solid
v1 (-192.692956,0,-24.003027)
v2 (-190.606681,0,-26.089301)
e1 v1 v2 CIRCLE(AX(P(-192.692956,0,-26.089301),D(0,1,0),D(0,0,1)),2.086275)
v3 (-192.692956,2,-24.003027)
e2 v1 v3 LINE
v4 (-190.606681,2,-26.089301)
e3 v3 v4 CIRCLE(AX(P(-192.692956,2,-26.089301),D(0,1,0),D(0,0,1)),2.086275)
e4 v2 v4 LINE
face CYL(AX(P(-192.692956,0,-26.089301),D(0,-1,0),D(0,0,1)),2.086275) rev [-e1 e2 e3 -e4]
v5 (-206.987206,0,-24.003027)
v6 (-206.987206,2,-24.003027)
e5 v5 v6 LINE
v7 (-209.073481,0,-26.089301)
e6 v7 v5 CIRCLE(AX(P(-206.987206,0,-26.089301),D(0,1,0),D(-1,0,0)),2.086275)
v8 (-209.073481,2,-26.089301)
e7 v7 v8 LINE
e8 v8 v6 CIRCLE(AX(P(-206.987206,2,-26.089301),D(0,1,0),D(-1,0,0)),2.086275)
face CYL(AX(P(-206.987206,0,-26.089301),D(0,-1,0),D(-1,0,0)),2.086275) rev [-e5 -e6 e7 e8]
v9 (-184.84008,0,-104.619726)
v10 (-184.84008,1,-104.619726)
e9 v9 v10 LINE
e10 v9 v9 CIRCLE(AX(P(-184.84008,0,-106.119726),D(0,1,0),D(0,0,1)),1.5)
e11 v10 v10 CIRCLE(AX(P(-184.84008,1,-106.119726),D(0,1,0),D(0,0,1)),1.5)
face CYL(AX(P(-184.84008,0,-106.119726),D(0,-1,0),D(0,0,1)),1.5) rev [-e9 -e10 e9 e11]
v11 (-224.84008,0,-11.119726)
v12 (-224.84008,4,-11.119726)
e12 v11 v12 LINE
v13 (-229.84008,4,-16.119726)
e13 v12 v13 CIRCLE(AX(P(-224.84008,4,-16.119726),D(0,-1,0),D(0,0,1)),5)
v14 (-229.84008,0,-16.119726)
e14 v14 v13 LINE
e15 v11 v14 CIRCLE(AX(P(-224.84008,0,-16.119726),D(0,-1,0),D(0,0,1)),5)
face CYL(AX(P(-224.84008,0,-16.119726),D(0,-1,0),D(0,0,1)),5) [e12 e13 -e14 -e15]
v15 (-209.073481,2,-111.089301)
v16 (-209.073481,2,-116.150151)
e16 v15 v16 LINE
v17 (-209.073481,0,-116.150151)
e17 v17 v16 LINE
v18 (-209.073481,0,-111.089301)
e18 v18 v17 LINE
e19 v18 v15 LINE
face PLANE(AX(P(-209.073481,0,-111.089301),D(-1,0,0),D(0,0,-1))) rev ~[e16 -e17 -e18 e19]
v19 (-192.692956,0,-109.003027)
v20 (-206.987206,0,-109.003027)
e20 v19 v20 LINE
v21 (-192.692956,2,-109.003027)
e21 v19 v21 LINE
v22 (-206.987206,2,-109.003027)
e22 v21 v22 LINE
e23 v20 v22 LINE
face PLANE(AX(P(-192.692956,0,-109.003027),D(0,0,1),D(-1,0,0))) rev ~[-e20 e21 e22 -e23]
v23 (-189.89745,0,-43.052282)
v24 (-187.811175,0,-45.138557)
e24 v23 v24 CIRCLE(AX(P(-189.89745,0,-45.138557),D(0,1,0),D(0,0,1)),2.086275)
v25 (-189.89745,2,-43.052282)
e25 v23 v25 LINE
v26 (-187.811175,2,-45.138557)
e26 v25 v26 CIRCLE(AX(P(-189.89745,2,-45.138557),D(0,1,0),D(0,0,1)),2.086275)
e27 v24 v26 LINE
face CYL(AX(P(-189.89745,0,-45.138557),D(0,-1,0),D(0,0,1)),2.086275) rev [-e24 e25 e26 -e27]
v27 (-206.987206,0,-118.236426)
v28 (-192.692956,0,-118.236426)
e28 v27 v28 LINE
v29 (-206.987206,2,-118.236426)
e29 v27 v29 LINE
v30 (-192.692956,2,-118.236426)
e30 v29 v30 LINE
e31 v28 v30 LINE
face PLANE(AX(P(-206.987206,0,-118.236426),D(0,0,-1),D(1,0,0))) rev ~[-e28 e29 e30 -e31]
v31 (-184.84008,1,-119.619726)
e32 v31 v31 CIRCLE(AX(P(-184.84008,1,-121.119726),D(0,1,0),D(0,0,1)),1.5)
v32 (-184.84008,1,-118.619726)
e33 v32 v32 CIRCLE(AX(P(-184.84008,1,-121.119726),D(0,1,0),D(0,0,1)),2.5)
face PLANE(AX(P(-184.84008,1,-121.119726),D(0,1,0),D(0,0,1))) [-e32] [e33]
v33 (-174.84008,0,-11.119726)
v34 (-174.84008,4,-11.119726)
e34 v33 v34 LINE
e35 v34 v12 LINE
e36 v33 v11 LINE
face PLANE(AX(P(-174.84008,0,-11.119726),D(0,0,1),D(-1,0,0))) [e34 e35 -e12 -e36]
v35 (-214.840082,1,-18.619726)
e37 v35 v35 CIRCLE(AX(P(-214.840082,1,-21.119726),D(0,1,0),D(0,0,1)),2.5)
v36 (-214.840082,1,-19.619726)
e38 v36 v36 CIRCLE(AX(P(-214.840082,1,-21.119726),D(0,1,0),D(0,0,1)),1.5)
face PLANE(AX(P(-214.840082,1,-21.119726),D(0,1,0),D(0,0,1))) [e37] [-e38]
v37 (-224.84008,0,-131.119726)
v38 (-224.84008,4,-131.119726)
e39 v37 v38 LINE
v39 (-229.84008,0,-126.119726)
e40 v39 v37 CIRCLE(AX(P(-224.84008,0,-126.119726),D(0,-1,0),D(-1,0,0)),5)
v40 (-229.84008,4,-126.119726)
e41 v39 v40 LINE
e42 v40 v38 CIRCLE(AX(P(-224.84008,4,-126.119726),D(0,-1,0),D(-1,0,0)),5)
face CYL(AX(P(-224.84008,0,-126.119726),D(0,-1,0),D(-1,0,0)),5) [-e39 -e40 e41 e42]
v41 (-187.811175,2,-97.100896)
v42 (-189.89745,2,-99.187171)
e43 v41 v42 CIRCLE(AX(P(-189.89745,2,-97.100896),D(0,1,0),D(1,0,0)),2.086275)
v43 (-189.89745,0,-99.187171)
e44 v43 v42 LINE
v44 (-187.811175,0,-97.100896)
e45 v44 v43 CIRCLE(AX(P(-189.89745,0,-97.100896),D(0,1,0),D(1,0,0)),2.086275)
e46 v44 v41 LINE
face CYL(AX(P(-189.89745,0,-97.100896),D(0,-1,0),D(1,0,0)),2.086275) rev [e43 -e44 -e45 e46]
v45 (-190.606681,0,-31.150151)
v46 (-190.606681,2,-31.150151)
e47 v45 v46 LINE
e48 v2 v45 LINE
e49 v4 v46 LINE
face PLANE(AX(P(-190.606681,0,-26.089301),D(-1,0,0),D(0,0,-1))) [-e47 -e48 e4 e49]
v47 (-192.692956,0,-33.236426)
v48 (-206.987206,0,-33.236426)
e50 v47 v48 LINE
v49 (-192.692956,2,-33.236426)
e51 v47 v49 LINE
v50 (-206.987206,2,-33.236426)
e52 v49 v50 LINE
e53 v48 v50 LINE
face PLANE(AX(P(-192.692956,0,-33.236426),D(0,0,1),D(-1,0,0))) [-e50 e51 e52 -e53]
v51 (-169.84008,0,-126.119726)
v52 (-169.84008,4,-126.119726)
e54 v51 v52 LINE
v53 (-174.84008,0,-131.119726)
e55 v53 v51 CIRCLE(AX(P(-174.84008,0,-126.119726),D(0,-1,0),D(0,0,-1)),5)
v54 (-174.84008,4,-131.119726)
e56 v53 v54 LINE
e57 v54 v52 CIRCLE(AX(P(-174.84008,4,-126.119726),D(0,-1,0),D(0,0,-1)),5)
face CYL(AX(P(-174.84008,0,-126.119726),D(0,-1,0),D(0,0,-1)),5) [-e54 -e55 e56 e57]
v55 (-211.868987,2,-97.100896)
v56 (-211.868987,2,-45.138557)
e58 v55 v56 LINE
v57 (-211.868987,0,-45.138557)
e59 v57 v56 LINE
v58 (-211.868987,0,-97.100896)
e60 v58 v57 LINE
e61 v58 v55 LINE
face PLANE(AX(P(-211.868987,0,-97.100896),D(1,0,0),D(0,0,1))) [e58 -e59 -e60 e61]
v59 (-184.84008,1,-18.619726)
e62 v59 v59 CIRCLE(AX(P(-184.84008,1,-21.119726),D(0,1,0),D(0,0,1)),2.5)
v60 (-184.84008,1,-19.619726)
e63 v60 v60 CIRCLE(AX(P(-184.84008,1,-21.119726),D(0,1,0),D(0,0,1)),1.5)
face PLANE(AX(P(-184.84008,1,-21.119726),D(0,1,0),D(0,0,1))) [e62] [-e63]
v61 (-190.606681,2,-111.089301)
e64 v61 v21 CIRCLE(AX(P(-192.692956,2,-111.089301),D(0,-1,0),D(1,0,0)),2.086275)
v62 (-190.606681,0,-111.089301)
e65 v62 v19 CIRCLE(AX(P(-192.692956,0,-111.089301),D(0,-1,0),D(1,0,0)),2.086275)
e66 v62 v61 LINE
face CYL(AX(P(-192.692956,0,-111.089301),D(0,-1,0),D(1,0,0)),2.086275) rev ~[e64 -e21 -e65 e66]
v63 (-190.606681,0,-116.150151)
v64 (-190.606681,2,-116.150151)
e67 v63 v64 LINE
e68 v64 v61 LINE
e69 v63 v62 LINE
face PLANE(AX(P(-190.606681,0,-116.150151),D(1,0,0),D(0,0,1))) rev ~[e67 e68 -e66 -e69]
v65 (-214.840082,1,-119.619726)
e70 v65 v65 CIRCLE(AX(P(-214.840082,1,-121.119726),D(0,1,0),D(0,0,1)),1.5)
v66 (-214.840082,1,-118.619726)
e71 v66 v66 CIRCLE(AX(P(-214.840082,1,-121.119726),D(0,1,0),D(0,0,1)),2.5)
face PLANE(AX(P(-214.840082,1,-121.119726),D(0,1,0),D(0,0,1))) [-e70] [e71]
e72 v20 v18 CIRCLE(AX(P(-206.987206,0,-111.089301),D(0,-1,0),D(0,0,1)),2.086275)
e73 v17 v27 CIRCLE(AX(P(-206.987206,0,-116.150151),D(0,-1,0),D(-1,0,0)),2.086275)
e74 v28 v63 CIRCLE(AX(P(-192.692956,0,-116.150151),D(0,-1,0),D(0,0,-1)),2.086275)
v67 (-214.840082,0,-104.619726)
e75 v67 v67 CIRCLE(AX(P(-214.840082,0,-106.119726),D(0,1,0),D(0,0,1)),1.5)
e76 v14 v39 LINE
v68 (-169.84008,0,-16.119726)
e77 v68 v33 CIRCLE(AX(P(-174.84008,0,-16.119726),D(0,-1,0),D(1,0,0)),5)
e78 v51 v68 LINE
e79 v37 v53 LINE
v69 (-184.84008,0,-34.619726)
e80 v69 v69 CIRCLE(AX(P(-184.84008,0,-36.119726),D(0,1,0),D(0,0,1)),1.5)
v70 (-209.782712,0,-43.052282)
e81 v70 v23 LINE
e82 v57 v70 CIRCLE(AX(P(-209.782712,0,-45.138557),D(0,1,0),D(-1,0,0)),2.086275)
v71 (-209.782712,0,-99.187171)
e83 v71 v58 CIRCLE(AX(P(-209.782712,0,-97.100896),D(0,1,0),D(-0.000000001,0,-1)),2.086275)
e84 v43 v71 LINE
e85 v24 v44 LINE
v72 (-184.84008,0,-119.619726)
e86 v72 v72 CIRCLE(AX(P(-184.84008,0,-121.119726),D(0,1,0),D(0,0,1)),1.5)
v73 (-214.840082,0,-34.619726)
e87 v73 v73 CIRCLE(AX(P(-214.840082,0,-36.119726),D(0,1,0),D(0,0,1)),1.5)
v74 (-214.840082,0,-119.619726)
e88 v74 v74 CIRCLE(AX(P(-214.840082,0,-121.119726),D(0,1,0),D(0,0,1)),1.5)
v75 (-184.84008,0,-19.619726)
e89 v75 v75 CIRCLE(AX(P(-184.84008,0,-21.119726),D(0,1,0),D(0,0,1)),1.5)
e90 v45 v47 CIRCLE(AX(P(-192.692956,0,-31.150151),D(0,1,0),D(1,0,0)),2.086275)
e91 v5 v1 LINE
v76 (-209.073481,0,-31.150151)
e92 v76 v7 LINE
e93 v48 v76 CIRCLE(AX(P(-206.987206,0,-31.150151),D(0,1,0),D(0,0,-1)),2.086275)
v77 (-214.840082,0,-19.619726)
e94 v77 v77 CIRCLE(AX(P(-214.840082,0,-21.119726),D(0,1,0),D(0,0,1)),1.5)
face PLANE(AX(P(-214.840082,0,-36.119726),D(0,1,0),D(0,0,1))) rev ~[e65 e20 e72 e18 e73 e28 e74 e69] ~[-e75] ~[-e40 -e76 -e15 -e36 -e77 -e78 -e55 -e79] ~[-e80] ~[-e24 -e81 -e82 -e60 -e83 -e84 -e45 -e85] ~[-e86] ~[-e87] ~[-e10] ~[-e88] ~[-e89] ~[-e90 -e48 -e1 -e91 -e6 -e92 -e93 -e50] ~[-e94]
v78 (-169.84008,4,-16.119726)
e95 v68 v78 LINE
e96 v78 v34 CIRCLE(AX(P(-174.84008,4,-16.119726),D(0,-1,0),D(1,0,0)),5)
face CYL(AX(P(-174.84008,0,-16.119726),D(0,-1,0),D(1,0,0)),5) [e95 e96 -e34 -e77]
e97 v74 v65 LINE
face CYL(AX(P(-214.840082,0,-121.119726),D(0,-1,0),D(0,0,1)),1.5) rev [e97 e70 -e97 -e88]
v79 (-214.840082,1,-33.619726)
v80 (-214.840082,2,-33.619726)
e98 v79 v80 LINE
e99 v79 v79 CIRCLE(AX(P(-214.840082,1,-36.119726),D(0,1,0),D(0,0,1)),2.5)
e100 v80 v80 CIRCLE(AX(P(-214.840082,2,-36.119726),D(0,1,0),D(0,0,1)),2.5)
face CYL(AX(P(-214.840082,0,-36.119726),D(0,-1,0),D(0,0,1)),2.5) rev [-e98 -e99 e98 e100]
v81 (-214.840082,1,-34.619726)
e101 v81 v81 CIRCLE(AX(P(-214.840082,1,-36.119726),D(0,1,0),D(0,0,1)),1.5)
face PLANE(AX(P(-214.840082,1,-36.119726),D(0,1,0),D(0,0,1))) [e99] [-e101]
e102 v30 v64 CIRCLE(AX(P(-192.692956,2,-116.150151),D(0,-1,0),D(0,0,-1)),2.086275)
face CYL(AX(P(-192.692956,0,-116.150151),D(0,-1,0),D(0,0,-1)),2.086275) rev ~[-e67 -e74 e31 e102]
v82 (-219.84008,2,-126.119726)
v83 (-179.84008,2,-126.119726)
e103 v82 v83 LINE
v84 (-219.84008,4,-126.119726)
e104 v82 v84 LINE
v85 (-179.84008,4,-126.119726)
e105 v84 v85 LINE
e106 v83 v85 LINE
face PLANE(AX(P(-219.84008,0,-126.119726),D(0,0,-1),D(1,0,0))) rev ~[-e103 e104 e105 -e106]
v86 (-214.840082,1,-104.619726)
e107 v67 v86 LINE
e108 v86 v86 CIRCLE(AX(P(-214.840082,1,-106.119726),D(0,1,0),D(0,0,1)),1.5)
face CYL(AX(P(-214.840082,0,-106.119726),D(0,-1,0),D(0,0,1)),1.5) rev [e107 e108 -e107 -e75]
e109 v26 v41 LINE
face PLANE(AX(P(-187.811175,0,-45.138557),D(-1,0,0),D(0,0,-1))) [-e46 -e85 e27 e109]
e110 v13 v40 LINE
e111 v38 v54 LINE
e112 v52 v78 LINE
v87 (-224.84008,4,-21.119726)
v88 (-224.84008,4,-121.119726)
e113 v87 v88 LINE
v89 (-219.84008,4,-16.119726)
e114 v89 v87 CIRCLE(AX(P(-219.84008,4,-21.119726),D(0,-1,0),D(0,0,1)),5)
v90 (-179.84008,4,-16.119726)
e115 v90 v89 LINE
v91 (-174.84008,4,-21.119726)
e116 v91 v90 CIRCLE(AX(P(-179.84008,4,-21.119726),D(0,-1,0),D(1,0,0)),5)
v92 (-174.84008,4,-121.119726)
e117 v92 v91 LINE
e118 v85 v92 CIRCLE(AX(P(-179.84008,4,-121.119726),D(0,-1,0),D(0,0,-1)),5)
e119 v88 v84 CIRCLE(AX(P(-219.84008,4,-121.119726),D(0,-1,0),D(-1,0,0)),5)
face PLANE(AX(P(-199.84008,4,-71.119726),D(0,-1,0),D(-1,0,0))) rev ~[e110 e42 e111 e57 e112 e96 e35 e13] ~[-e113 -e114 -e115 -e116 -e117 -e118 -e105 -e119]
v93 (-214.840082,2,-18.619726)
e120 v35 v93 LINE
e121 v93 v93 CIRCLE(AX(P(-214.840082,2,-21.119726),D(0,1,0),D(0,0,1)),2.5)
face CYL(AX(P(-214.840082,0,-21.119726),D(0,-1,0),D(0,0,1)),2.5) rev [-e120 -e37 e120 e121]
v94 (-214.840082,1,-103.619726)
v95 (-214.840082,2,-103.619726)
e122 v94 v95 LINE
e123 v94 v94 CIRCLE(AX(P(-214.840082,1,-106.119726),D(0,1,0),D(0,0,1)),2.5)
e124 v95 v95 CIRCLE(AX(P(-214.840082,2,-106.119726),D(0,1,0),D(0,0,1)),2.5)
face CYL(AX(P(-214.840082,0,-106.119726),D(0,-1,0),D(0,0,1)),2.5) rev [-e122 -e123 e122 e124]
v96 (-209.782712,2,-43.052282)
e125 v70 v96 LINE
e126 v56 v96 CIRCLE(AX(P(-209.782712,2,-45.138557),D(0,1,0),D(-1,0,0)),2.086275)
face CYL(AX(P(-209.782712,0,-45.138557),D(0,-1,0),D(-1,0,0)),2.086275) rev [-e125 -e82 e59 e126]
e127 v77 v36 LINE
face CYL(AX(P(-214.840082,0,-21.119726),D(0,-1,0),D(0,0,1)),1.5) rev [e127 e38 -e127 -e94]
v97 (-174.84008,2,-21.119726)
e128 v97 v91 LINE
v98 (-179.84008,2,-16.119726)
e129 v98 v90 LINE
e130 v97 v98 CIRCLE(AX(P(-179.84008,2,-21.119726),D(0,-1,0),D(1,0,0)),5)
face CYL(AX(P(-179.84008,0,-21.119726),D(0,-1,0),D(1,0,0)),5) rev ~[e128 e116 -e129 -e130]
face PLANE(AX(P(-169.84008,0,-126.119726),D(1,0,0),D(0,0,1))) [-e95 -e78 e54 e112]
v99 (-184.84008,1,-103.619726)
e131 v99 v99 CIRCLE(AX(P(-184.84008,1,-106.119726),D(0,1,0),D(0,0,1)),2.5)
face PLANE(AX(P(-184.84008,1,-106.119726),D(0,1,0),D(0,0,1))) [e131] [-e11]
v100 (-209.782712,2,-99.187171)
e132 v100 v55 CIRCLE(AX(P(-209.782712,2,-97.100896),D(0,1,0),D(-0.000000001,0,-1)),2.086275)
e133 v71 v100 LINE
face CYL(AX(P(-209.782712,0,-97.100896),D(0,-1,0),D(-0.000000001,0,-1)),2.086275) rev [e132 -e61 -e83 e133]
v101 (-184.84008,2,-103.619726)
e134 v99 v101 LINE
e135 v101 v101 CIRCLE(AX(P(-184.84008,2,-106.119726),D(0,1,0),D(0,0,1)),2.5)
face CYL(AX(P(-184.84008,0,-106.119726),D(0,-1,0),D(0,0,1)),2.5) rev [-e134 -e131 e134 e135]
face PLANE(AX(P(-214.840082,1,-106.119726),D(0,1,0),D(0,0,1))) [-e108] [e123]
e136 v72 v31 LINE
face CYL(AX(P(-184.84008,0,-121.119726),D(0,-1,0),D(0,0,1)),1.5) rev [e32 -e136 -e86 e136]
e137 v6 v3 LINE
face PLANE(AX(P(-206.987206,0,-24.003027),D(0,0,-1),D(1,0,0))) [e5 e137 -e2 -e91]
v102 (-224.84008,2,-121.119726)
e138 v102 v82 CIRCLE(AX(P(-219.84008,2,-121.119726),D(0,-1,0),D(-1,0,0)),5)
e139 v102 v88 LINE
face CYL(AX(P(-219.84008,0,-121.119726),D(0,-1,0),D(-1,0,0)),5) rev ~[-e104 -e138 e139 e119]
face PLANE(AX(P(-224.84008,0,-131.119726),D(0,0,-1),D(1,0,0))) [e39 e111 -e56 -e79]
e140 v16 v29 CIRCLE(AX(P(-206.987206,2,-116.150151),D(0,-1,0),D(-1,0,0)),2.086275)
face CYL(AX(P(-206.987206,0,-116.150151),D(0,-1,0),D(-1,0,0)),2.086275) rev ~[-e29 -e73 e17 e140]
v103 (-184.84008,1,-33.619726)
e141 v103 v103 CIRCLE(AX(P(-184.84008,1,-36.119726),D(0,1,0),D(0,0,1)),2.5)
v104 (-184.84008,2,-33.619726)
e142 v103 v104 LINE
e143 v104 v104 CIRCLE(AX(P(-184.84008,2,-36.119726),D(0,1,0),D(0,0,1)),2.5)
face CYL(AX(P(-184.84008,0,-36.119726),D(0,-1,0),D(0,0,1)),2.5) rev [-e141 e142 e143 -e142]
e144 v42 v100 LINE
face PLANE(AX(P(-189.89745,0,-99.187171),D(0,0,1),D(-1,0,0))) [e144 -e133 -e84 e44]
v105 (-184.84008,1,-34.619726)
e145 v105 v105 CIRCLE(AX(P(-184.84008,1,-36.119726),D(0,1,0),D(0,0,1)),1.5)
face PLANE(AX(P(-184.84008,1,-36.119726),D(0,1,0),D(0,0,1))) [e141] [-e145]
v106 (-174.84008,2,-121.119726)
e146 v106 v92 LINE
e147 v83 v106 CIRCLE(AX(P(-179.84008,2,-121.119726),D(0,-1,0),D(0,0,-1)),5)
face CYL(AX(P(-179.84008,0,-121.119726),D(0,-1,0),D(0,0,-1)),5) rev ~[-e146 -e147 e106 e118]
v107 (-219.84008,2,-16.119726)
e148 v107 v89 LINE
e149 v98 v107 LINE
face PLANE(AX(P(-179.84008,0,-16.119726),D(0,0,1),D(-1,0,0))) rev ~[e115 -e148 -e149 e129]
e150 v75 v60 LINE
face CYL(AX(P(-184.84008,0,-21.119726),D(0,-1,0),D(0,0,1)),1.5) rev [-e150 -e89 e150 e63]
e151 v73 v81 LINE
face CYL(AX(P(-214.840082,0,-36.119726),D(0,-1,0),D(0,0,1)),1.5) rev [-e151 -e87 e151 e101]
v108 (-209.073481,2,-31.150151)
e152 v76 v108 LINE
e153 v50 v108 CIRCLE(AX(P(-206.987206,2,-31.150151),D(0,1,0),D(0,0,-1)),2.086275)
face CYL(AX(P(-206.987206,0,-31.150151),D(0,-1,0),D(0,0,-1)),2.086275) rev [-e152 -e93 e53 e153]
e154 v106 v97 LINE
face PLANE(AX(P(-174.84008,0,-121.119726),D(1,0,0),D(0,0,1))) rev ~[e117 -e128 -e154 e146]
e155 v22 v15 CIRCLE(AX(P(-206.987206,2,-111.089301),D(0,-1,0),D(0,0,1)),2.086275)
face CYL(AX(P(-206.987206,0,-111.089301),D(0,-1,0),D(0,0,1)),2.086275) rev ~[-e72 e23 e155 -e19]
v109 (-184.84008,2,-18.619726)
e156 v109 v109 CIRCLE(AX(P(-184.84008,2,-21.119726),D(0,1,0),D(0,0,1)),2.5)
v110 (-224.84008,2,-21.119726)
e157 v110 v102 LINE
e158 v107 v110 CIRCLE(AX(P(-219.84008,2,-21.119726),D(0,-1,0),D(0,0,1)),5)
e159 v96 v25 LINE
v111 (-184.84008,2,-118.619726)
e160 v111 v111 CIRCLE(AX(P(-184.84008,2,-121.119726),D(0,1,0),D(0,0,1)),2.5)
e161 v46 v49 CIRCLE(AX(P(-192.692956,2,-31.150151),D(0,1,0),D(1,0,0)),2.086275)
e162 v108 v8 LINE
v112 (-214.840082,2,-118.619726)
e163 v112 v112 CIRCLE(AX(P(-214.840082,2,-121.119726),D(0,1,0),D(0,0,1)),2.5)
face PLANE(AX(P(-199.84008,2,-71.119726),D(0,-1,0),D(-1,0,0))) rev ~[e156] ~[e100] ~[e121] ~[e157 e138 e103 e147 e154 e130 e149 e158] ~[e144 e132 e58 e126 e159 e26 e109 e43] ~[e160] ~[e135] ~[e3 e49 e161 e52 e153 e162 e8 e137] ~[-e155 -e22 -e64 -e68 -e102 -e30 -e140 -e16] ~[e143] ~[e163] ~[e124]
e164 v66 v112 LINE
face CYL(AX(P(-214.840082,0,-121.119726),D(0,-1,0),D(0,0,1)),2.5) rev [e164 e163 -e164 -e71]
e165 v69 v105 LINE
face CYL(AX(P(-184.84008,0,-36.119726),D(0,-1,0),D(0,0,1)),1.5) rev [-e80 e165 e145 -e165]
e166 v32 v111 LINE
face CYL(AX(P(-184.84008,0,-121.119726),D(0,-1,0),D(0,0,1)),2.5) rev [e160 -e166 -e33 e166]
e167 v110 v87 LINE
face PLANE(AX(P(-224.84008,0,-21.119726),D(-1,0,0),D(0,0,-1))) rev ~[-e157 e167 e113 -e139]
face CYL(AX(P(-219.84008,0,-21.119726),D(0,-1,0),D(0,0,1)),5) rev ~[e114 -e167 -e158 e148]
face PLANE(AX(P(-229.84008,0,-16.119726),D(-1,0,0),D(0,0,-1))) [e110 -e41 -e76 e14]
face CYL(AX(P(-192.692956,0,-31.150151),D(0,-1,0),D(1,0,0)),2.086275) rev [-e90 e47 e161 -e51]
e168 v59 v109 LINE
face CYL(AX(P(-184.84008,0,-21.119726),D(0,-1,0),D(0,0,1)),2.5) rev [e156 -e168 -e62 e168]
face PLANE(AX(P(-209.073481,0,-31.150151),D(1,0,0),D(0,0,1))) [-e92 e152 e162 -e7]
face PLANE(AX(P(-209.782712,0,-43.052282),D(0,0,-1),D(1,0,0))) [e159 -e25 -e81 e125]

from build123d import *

# Parameters (mm, degrees)
EXTRUDE_1_DEPTH = 4
SKETCH_1_40_R   = 2.5
EXTRUDE_2_DEPTH = 2
SKETCH_1_41_R   = 2.5
SKETCH_1_41_R_2 = 1.5
EXTRUDE_3_DEPTH = 1


with BuildPart() as part:
    # 草图1 → 凸台-拉伸1 (new body)
    with BuildSketch(Plane(origin=(0, 0, 0), x_dir=(1, 0, 0), z_dir=(0, 1, 0))):
        with BuildLine():
            Line((-174.840079727, 131.119726246), (-199.840079727, 131.119726246))
            Line((-199.840079727, 131.119726246), (-224.840079727, 131.119726246))
            ThreePointArc((-224.840079727, 131.119726246), (-228.375613633, 129.655260152), (-229.840079727, 126.119726246))
            Line((-229.840079727, 126.119726246), (-229.840079727, 16.119726246))
            ThreePointArc((-229.840079727, 16.119726246), (-228.375613633, 12.58419234), (-224.840079727, 11.119726246))
            Line((-224.840079727, 11.119726246), (-199.840079727, 11.119726246))
            Line((-199.840079727, 11.119726246), (-174.840079727, 11.119726246))
            ThreePointArc((-174.840079727, 11.119726246), (-171.304545821, 12.58419234), (-169.840079727, 16.119726246))
            Line((-169.840079727, 16.119726246), (-169.840079727, 126.119726246))
            ThreePointArc((-169.840079727, 126.119726246), (-171.304545821, 129.655260152), (-174.840079727, 131.119726246))
        make_face()
        with BuildLine():
            ThreePointArc((-224.840079727, 121.119726246), (-223.375613633, 124.655260152), (-219.840079727, 126.119726246))
            Line((-219.840079727, 126.119726246), (-179.840079727, 126.119726246))
            ThreePointArc((-179.840079727, 126.119726246), (-176.304545821, 124.655260152), (-174.840079727, 121.119726246))
            Line((-174.840079727, 121.119726246), (-174.840079727, 21.119726246))
            ThreePointArc((-174.840079727, 21.119726246), (-176.304545821, 17.58419234), (-179.840079727, 16.119726246))
            Line((-179.840079727, 16.119726246), (-219.840079727, 16.119726246))
            ThreePointArc((-219.840079727, 16.119726246), (-223.375613633, 17.58419234), (-224.840079727, 21.119726246))
            Line((-224.840079727, 21.119726246), (-224.840079727, 121.119726246))
        make_face(mode=Mode.SUBTRACT)
    extrude(amount=EXTRUDE_1_DEPTH)

    # 草图1<40> → 凸台-拉伸2 (add)
    with BuildSketch(Plane(origin=(0, 0, 0), x_dir=(1, 0, 0), z_dir=(0, 1, 0))):
        with BuildLine():
            Line((-179.840079727, 126.119726246), (-219.840079727, 126.119726246))
            ThreePointArc((-219.840079727, 126.119726246), (-223.375613633, 124.655260152), (-224.840079727, 121.119726246))
            Line((-224.840079727, 121.119726246), (-224.840079727, 21.119726246))
            ThreePointArc((-224.840079727, 21.119726246), (-223.375613633, 17.58419234), (-219.840079727, 16.119726246))
            Line((-219.840079727, 16.119726246), (-179.840079727, 16.119726246))
            ThreePointArc((-179.840079727, 16.119726246), (-176.304545821, 17.58419234), (-174.840079727, 21.119726246))
            Line((-174.840079727, 21.119726246), (-174.840079727, 121.119726246))
            ThreePointArc((-174.840079727, 121.119726246), (-176.304545821, 124.655260152), (-179.840079727, 126.119726246))
        make_face()
        with Locations((-214.840082087, 21.119726246)):
            Circle(SKETCH_1_40_R, mode=Mode.SUBTRACT)
        with Locations((-214.840082087, 36.119726246)):
            Circle(SKETCH_1_40_R, mode=Mode.SUBTRACT)
        with BuildLine():
            Line((-192.692955598, 24.003026586), (-206.987206217, 24.003026586))
            ThreePointArc((-206.987206217, 24.003026586), (-208.462425231, 24.614082309), (-209.073480954, 26.089301323))
            Line((-209.073480954, 26.089301323), (-209.073480954, 31.150151169))
            ThreePointArc((-209.073480954, 31.150151169), (-208.462425231, 32.625370183), (-206.987206217, 33.236425906))
            Line((-206.987206217, 33.236425906), (-192.692955598, 33.236425906))
            ThreePointArc((-192.692955598, 33.236425906), (-191.217736584, 32.625370183), (-190.606680861, 31.150151169))
            Line((-190.606680861, 31.150151169), (-190.606680861, 26.089301323))
            ThreePointArc((-190.606680861, 26.089301323), (-191.217736584, 24.614082309), (-192.692955598, 24.003026586))
        make_face(mode=Mode.SUBTRACT)
        with BuildLine():
            Line((-189.897449963, 43.052281864), (-209.782711851, 43.052281864))
            ThreePointArc((-209.782711851, 43.052281864), (-211.257930865, 43.663337587), (-211.868986589, 45.138556602))
            Line((-211.868986589, 45.138556602), (-211.868986589, 97.10089589))
            ThreePointArc((-211.868986589, 97.10089589), (-211.257930865, 98.576114904), (-209.782711851, 99.187170628))
            Line((-209.782711851, 99.187170628), (-189.897449963, 99.187170628))
            ThreePointArc((-189.897449963, 99.187170628), (-188.422230949, 98.576114904), (-187.811175226, 97.10089589))
            Line((-187.811175226, 97.10089589), (-187.811175226, 45.138556602))
            ThreePointArc((-187.811175226, 45.138556602), (-188.422230949, 43.663337587), (-189.897449963, 43.052281864))
        make_face(mode=Mode.SUBTRACT)
        with Locations((-184.840079727, 21.119726246)):
            Circle(SKETCH_1_40_R, mode=Mode.SUBTRACT)
        with Locations((-184.840079727, 36.119726246)):
            Circle(SKETCH_1_40_R, mode=Mode.SUBTRACT)
        with Locations((-214.840082087, 106.119726246)):
            Circle(SKETCH_1_40_R, mode=Mode.SUBTRACT)
        with Locations((-214.840082087, 121.119726246)):
            Circle(SKETCH_1_40_R, mode=Mode.SUBTRACT)
        with BuildLine():
            Line((-192.692955598, 109.003026586), (-206.987206217, 109.003026586))
            ThreePointArc((-206.987206217, 109.003026586), (-208.462425231, 109.614082309), (-209.073480954, 111.089301323))
            Line((-209.073480954, 111.089301323), (-209.073480954, 116.150151169))
            ThreePointArc((-209.073480954, 116.150151169), (-208.462425231, 117.625370183), (-206.987206217, 118.236425906))
            Line((-206.987206217, 118.236425906), (-192.692955598, 118.236425906))
            ThreePointArc((-192.692955598, 118.236425906), (-191.217736584, 117.625370183), (-190.606680861, 116.150151169))
            Line((-190.606680861, 116.150151169), (-190.606680861, 111.089301323))
            ThreePointArc((-190.606680861, 111.089301323), (-191.217736584, 109.614082309), (-192.692955598, 109.003026586))
        make_face(mode=Mode.SUBTRACT)
        with Locations((-184.840079727, 106.119726246)):
            Circle(SKETCH_1_40_R, mode=Mode.SUBTRACT)
        with Locations((-184.840079727, 121.119726246)):
            Circle(SKETCH_1_40_R, mode=Mode.SUBTRACT)
    extrude(amount=EXTRUDE_2_DEPTH)

    # 草图1<41> → 凸台-拉伸3 (add)
    # profile 1 of 8: a face of its own
    with BuildSketch(Plane(origin=(0, 0, 0), x_dir=(1, 0, 0), z_dir=(0, 1, 0))):
        with Locations((-184.840079727, 121.119726246)):
            Circle(SKETCH_1_41_R)
        with Locations((-184.840079727, 121.119726246)):
            Circle(SKETCH_1_41_R_2, mode=Mode.SUBTRACT)
    # profile 2 of 8: a face of its own
    with BuildSketch(Plane(origin=(0, 0, 0), x_dir=(1, 0, 0), z_dir=(0, 1, 0))):
        with Locations((-214.840082087, 121.119726246)):
            Circle(SKETCH_1_41_R)
        with Locations((-214.840082087, 121.119726246)):
            Circle(SKETCH_1_41_R_2, mode=Mode.SUBTRACT)
    # profile 3 of 8: a face of its own
    with BuildSketch(Plane(origin=(0, 0, 0), x_dir=(1, 0, 0), z_dir=(0, 1, 0))):
        with Locations((-214.840082087, 21.119726246)):
            Circle(SKETCH_1_41_R)
        with Locations((-214.840082087, 21.119726246)):
            Circle(SKETCH_1_41_R_2, mode=Mode.SUBTRACT)
    # profile 4 of 8: a face of its own
    with BuildSketch(Plane(origin=(0, 0, 0), x_dir=(1, 0, 0), z_dir=(0, 1, 0))):
        with Locations((-184.840079727, 21.119726246)):
            Circle(SKETCH_1_41_R)
        with Locations((-184.840079727, 21.119726246)):
            Circle(SKETCH_1_41_R_2, mode=Mode.SUBTRACT)
    # profile 5 of 8: a face of its own
    with BuildSketch(Plane(origin=(0, 0, 0), x_dir=(1, 0, 0), z_dir=(0, 1, 0))):
        with Locations((-214.840082087, 106.119726246)):
            Circle(SKETCH_1_41_R)
        with Locations((-214.840082087, 106.119726246)):
            Circle(SKETCH_1_41_R_2, mode=Mode.SUBTRACT)
    # profile 6 of 8: a face of its own
    with BuildSketch(Plane(origin=(0, 0, 0), x_dir=(1, 0, 0), z_dir=(0, 1, 0))):
        with Locations((-184.840079727, 36.119726246)):
            Circle(SKETCH_1_41_R)
        with Locations((-184.840079727, 36.119726246)):
            Circle(SKETCH_1_41_R_2, mode=Mode.SUBTRACT)
    # profile 7 of 8: a face of its own
    with BuildSketch(Plane(origin=(0, 0, 0), x_dir=(1, 0, 0), z_dir=(0, 1, 0))):
        with Locations((-214.840082087, 36.119726246)):
            Circle(SKETCH_1_41_R)
        with Locations((-214.840082087, 36.119726246)):
            Circle(SKETCH_1_41_R_2, mode=Mode.SUBTRACT)
    # profile 8 of 8: a face of its own
    with BuildSketch(Plane(origin=(0, 0, 0), x_dir=(1, 0, 0), z_dir=(0, 1, 0))):
        with Locations((-184.840079727, 106.119726246)):
            Circle(SKETCH_1_41_R)
        with Locations((-184.840079727, 106.119726246)):
            Circle(SKETCH_1_41_R_2, mode=Mode.SUBTRACT)
    extrude(amount=EXTRUDE_3_DEPTH)


solid = part.part
